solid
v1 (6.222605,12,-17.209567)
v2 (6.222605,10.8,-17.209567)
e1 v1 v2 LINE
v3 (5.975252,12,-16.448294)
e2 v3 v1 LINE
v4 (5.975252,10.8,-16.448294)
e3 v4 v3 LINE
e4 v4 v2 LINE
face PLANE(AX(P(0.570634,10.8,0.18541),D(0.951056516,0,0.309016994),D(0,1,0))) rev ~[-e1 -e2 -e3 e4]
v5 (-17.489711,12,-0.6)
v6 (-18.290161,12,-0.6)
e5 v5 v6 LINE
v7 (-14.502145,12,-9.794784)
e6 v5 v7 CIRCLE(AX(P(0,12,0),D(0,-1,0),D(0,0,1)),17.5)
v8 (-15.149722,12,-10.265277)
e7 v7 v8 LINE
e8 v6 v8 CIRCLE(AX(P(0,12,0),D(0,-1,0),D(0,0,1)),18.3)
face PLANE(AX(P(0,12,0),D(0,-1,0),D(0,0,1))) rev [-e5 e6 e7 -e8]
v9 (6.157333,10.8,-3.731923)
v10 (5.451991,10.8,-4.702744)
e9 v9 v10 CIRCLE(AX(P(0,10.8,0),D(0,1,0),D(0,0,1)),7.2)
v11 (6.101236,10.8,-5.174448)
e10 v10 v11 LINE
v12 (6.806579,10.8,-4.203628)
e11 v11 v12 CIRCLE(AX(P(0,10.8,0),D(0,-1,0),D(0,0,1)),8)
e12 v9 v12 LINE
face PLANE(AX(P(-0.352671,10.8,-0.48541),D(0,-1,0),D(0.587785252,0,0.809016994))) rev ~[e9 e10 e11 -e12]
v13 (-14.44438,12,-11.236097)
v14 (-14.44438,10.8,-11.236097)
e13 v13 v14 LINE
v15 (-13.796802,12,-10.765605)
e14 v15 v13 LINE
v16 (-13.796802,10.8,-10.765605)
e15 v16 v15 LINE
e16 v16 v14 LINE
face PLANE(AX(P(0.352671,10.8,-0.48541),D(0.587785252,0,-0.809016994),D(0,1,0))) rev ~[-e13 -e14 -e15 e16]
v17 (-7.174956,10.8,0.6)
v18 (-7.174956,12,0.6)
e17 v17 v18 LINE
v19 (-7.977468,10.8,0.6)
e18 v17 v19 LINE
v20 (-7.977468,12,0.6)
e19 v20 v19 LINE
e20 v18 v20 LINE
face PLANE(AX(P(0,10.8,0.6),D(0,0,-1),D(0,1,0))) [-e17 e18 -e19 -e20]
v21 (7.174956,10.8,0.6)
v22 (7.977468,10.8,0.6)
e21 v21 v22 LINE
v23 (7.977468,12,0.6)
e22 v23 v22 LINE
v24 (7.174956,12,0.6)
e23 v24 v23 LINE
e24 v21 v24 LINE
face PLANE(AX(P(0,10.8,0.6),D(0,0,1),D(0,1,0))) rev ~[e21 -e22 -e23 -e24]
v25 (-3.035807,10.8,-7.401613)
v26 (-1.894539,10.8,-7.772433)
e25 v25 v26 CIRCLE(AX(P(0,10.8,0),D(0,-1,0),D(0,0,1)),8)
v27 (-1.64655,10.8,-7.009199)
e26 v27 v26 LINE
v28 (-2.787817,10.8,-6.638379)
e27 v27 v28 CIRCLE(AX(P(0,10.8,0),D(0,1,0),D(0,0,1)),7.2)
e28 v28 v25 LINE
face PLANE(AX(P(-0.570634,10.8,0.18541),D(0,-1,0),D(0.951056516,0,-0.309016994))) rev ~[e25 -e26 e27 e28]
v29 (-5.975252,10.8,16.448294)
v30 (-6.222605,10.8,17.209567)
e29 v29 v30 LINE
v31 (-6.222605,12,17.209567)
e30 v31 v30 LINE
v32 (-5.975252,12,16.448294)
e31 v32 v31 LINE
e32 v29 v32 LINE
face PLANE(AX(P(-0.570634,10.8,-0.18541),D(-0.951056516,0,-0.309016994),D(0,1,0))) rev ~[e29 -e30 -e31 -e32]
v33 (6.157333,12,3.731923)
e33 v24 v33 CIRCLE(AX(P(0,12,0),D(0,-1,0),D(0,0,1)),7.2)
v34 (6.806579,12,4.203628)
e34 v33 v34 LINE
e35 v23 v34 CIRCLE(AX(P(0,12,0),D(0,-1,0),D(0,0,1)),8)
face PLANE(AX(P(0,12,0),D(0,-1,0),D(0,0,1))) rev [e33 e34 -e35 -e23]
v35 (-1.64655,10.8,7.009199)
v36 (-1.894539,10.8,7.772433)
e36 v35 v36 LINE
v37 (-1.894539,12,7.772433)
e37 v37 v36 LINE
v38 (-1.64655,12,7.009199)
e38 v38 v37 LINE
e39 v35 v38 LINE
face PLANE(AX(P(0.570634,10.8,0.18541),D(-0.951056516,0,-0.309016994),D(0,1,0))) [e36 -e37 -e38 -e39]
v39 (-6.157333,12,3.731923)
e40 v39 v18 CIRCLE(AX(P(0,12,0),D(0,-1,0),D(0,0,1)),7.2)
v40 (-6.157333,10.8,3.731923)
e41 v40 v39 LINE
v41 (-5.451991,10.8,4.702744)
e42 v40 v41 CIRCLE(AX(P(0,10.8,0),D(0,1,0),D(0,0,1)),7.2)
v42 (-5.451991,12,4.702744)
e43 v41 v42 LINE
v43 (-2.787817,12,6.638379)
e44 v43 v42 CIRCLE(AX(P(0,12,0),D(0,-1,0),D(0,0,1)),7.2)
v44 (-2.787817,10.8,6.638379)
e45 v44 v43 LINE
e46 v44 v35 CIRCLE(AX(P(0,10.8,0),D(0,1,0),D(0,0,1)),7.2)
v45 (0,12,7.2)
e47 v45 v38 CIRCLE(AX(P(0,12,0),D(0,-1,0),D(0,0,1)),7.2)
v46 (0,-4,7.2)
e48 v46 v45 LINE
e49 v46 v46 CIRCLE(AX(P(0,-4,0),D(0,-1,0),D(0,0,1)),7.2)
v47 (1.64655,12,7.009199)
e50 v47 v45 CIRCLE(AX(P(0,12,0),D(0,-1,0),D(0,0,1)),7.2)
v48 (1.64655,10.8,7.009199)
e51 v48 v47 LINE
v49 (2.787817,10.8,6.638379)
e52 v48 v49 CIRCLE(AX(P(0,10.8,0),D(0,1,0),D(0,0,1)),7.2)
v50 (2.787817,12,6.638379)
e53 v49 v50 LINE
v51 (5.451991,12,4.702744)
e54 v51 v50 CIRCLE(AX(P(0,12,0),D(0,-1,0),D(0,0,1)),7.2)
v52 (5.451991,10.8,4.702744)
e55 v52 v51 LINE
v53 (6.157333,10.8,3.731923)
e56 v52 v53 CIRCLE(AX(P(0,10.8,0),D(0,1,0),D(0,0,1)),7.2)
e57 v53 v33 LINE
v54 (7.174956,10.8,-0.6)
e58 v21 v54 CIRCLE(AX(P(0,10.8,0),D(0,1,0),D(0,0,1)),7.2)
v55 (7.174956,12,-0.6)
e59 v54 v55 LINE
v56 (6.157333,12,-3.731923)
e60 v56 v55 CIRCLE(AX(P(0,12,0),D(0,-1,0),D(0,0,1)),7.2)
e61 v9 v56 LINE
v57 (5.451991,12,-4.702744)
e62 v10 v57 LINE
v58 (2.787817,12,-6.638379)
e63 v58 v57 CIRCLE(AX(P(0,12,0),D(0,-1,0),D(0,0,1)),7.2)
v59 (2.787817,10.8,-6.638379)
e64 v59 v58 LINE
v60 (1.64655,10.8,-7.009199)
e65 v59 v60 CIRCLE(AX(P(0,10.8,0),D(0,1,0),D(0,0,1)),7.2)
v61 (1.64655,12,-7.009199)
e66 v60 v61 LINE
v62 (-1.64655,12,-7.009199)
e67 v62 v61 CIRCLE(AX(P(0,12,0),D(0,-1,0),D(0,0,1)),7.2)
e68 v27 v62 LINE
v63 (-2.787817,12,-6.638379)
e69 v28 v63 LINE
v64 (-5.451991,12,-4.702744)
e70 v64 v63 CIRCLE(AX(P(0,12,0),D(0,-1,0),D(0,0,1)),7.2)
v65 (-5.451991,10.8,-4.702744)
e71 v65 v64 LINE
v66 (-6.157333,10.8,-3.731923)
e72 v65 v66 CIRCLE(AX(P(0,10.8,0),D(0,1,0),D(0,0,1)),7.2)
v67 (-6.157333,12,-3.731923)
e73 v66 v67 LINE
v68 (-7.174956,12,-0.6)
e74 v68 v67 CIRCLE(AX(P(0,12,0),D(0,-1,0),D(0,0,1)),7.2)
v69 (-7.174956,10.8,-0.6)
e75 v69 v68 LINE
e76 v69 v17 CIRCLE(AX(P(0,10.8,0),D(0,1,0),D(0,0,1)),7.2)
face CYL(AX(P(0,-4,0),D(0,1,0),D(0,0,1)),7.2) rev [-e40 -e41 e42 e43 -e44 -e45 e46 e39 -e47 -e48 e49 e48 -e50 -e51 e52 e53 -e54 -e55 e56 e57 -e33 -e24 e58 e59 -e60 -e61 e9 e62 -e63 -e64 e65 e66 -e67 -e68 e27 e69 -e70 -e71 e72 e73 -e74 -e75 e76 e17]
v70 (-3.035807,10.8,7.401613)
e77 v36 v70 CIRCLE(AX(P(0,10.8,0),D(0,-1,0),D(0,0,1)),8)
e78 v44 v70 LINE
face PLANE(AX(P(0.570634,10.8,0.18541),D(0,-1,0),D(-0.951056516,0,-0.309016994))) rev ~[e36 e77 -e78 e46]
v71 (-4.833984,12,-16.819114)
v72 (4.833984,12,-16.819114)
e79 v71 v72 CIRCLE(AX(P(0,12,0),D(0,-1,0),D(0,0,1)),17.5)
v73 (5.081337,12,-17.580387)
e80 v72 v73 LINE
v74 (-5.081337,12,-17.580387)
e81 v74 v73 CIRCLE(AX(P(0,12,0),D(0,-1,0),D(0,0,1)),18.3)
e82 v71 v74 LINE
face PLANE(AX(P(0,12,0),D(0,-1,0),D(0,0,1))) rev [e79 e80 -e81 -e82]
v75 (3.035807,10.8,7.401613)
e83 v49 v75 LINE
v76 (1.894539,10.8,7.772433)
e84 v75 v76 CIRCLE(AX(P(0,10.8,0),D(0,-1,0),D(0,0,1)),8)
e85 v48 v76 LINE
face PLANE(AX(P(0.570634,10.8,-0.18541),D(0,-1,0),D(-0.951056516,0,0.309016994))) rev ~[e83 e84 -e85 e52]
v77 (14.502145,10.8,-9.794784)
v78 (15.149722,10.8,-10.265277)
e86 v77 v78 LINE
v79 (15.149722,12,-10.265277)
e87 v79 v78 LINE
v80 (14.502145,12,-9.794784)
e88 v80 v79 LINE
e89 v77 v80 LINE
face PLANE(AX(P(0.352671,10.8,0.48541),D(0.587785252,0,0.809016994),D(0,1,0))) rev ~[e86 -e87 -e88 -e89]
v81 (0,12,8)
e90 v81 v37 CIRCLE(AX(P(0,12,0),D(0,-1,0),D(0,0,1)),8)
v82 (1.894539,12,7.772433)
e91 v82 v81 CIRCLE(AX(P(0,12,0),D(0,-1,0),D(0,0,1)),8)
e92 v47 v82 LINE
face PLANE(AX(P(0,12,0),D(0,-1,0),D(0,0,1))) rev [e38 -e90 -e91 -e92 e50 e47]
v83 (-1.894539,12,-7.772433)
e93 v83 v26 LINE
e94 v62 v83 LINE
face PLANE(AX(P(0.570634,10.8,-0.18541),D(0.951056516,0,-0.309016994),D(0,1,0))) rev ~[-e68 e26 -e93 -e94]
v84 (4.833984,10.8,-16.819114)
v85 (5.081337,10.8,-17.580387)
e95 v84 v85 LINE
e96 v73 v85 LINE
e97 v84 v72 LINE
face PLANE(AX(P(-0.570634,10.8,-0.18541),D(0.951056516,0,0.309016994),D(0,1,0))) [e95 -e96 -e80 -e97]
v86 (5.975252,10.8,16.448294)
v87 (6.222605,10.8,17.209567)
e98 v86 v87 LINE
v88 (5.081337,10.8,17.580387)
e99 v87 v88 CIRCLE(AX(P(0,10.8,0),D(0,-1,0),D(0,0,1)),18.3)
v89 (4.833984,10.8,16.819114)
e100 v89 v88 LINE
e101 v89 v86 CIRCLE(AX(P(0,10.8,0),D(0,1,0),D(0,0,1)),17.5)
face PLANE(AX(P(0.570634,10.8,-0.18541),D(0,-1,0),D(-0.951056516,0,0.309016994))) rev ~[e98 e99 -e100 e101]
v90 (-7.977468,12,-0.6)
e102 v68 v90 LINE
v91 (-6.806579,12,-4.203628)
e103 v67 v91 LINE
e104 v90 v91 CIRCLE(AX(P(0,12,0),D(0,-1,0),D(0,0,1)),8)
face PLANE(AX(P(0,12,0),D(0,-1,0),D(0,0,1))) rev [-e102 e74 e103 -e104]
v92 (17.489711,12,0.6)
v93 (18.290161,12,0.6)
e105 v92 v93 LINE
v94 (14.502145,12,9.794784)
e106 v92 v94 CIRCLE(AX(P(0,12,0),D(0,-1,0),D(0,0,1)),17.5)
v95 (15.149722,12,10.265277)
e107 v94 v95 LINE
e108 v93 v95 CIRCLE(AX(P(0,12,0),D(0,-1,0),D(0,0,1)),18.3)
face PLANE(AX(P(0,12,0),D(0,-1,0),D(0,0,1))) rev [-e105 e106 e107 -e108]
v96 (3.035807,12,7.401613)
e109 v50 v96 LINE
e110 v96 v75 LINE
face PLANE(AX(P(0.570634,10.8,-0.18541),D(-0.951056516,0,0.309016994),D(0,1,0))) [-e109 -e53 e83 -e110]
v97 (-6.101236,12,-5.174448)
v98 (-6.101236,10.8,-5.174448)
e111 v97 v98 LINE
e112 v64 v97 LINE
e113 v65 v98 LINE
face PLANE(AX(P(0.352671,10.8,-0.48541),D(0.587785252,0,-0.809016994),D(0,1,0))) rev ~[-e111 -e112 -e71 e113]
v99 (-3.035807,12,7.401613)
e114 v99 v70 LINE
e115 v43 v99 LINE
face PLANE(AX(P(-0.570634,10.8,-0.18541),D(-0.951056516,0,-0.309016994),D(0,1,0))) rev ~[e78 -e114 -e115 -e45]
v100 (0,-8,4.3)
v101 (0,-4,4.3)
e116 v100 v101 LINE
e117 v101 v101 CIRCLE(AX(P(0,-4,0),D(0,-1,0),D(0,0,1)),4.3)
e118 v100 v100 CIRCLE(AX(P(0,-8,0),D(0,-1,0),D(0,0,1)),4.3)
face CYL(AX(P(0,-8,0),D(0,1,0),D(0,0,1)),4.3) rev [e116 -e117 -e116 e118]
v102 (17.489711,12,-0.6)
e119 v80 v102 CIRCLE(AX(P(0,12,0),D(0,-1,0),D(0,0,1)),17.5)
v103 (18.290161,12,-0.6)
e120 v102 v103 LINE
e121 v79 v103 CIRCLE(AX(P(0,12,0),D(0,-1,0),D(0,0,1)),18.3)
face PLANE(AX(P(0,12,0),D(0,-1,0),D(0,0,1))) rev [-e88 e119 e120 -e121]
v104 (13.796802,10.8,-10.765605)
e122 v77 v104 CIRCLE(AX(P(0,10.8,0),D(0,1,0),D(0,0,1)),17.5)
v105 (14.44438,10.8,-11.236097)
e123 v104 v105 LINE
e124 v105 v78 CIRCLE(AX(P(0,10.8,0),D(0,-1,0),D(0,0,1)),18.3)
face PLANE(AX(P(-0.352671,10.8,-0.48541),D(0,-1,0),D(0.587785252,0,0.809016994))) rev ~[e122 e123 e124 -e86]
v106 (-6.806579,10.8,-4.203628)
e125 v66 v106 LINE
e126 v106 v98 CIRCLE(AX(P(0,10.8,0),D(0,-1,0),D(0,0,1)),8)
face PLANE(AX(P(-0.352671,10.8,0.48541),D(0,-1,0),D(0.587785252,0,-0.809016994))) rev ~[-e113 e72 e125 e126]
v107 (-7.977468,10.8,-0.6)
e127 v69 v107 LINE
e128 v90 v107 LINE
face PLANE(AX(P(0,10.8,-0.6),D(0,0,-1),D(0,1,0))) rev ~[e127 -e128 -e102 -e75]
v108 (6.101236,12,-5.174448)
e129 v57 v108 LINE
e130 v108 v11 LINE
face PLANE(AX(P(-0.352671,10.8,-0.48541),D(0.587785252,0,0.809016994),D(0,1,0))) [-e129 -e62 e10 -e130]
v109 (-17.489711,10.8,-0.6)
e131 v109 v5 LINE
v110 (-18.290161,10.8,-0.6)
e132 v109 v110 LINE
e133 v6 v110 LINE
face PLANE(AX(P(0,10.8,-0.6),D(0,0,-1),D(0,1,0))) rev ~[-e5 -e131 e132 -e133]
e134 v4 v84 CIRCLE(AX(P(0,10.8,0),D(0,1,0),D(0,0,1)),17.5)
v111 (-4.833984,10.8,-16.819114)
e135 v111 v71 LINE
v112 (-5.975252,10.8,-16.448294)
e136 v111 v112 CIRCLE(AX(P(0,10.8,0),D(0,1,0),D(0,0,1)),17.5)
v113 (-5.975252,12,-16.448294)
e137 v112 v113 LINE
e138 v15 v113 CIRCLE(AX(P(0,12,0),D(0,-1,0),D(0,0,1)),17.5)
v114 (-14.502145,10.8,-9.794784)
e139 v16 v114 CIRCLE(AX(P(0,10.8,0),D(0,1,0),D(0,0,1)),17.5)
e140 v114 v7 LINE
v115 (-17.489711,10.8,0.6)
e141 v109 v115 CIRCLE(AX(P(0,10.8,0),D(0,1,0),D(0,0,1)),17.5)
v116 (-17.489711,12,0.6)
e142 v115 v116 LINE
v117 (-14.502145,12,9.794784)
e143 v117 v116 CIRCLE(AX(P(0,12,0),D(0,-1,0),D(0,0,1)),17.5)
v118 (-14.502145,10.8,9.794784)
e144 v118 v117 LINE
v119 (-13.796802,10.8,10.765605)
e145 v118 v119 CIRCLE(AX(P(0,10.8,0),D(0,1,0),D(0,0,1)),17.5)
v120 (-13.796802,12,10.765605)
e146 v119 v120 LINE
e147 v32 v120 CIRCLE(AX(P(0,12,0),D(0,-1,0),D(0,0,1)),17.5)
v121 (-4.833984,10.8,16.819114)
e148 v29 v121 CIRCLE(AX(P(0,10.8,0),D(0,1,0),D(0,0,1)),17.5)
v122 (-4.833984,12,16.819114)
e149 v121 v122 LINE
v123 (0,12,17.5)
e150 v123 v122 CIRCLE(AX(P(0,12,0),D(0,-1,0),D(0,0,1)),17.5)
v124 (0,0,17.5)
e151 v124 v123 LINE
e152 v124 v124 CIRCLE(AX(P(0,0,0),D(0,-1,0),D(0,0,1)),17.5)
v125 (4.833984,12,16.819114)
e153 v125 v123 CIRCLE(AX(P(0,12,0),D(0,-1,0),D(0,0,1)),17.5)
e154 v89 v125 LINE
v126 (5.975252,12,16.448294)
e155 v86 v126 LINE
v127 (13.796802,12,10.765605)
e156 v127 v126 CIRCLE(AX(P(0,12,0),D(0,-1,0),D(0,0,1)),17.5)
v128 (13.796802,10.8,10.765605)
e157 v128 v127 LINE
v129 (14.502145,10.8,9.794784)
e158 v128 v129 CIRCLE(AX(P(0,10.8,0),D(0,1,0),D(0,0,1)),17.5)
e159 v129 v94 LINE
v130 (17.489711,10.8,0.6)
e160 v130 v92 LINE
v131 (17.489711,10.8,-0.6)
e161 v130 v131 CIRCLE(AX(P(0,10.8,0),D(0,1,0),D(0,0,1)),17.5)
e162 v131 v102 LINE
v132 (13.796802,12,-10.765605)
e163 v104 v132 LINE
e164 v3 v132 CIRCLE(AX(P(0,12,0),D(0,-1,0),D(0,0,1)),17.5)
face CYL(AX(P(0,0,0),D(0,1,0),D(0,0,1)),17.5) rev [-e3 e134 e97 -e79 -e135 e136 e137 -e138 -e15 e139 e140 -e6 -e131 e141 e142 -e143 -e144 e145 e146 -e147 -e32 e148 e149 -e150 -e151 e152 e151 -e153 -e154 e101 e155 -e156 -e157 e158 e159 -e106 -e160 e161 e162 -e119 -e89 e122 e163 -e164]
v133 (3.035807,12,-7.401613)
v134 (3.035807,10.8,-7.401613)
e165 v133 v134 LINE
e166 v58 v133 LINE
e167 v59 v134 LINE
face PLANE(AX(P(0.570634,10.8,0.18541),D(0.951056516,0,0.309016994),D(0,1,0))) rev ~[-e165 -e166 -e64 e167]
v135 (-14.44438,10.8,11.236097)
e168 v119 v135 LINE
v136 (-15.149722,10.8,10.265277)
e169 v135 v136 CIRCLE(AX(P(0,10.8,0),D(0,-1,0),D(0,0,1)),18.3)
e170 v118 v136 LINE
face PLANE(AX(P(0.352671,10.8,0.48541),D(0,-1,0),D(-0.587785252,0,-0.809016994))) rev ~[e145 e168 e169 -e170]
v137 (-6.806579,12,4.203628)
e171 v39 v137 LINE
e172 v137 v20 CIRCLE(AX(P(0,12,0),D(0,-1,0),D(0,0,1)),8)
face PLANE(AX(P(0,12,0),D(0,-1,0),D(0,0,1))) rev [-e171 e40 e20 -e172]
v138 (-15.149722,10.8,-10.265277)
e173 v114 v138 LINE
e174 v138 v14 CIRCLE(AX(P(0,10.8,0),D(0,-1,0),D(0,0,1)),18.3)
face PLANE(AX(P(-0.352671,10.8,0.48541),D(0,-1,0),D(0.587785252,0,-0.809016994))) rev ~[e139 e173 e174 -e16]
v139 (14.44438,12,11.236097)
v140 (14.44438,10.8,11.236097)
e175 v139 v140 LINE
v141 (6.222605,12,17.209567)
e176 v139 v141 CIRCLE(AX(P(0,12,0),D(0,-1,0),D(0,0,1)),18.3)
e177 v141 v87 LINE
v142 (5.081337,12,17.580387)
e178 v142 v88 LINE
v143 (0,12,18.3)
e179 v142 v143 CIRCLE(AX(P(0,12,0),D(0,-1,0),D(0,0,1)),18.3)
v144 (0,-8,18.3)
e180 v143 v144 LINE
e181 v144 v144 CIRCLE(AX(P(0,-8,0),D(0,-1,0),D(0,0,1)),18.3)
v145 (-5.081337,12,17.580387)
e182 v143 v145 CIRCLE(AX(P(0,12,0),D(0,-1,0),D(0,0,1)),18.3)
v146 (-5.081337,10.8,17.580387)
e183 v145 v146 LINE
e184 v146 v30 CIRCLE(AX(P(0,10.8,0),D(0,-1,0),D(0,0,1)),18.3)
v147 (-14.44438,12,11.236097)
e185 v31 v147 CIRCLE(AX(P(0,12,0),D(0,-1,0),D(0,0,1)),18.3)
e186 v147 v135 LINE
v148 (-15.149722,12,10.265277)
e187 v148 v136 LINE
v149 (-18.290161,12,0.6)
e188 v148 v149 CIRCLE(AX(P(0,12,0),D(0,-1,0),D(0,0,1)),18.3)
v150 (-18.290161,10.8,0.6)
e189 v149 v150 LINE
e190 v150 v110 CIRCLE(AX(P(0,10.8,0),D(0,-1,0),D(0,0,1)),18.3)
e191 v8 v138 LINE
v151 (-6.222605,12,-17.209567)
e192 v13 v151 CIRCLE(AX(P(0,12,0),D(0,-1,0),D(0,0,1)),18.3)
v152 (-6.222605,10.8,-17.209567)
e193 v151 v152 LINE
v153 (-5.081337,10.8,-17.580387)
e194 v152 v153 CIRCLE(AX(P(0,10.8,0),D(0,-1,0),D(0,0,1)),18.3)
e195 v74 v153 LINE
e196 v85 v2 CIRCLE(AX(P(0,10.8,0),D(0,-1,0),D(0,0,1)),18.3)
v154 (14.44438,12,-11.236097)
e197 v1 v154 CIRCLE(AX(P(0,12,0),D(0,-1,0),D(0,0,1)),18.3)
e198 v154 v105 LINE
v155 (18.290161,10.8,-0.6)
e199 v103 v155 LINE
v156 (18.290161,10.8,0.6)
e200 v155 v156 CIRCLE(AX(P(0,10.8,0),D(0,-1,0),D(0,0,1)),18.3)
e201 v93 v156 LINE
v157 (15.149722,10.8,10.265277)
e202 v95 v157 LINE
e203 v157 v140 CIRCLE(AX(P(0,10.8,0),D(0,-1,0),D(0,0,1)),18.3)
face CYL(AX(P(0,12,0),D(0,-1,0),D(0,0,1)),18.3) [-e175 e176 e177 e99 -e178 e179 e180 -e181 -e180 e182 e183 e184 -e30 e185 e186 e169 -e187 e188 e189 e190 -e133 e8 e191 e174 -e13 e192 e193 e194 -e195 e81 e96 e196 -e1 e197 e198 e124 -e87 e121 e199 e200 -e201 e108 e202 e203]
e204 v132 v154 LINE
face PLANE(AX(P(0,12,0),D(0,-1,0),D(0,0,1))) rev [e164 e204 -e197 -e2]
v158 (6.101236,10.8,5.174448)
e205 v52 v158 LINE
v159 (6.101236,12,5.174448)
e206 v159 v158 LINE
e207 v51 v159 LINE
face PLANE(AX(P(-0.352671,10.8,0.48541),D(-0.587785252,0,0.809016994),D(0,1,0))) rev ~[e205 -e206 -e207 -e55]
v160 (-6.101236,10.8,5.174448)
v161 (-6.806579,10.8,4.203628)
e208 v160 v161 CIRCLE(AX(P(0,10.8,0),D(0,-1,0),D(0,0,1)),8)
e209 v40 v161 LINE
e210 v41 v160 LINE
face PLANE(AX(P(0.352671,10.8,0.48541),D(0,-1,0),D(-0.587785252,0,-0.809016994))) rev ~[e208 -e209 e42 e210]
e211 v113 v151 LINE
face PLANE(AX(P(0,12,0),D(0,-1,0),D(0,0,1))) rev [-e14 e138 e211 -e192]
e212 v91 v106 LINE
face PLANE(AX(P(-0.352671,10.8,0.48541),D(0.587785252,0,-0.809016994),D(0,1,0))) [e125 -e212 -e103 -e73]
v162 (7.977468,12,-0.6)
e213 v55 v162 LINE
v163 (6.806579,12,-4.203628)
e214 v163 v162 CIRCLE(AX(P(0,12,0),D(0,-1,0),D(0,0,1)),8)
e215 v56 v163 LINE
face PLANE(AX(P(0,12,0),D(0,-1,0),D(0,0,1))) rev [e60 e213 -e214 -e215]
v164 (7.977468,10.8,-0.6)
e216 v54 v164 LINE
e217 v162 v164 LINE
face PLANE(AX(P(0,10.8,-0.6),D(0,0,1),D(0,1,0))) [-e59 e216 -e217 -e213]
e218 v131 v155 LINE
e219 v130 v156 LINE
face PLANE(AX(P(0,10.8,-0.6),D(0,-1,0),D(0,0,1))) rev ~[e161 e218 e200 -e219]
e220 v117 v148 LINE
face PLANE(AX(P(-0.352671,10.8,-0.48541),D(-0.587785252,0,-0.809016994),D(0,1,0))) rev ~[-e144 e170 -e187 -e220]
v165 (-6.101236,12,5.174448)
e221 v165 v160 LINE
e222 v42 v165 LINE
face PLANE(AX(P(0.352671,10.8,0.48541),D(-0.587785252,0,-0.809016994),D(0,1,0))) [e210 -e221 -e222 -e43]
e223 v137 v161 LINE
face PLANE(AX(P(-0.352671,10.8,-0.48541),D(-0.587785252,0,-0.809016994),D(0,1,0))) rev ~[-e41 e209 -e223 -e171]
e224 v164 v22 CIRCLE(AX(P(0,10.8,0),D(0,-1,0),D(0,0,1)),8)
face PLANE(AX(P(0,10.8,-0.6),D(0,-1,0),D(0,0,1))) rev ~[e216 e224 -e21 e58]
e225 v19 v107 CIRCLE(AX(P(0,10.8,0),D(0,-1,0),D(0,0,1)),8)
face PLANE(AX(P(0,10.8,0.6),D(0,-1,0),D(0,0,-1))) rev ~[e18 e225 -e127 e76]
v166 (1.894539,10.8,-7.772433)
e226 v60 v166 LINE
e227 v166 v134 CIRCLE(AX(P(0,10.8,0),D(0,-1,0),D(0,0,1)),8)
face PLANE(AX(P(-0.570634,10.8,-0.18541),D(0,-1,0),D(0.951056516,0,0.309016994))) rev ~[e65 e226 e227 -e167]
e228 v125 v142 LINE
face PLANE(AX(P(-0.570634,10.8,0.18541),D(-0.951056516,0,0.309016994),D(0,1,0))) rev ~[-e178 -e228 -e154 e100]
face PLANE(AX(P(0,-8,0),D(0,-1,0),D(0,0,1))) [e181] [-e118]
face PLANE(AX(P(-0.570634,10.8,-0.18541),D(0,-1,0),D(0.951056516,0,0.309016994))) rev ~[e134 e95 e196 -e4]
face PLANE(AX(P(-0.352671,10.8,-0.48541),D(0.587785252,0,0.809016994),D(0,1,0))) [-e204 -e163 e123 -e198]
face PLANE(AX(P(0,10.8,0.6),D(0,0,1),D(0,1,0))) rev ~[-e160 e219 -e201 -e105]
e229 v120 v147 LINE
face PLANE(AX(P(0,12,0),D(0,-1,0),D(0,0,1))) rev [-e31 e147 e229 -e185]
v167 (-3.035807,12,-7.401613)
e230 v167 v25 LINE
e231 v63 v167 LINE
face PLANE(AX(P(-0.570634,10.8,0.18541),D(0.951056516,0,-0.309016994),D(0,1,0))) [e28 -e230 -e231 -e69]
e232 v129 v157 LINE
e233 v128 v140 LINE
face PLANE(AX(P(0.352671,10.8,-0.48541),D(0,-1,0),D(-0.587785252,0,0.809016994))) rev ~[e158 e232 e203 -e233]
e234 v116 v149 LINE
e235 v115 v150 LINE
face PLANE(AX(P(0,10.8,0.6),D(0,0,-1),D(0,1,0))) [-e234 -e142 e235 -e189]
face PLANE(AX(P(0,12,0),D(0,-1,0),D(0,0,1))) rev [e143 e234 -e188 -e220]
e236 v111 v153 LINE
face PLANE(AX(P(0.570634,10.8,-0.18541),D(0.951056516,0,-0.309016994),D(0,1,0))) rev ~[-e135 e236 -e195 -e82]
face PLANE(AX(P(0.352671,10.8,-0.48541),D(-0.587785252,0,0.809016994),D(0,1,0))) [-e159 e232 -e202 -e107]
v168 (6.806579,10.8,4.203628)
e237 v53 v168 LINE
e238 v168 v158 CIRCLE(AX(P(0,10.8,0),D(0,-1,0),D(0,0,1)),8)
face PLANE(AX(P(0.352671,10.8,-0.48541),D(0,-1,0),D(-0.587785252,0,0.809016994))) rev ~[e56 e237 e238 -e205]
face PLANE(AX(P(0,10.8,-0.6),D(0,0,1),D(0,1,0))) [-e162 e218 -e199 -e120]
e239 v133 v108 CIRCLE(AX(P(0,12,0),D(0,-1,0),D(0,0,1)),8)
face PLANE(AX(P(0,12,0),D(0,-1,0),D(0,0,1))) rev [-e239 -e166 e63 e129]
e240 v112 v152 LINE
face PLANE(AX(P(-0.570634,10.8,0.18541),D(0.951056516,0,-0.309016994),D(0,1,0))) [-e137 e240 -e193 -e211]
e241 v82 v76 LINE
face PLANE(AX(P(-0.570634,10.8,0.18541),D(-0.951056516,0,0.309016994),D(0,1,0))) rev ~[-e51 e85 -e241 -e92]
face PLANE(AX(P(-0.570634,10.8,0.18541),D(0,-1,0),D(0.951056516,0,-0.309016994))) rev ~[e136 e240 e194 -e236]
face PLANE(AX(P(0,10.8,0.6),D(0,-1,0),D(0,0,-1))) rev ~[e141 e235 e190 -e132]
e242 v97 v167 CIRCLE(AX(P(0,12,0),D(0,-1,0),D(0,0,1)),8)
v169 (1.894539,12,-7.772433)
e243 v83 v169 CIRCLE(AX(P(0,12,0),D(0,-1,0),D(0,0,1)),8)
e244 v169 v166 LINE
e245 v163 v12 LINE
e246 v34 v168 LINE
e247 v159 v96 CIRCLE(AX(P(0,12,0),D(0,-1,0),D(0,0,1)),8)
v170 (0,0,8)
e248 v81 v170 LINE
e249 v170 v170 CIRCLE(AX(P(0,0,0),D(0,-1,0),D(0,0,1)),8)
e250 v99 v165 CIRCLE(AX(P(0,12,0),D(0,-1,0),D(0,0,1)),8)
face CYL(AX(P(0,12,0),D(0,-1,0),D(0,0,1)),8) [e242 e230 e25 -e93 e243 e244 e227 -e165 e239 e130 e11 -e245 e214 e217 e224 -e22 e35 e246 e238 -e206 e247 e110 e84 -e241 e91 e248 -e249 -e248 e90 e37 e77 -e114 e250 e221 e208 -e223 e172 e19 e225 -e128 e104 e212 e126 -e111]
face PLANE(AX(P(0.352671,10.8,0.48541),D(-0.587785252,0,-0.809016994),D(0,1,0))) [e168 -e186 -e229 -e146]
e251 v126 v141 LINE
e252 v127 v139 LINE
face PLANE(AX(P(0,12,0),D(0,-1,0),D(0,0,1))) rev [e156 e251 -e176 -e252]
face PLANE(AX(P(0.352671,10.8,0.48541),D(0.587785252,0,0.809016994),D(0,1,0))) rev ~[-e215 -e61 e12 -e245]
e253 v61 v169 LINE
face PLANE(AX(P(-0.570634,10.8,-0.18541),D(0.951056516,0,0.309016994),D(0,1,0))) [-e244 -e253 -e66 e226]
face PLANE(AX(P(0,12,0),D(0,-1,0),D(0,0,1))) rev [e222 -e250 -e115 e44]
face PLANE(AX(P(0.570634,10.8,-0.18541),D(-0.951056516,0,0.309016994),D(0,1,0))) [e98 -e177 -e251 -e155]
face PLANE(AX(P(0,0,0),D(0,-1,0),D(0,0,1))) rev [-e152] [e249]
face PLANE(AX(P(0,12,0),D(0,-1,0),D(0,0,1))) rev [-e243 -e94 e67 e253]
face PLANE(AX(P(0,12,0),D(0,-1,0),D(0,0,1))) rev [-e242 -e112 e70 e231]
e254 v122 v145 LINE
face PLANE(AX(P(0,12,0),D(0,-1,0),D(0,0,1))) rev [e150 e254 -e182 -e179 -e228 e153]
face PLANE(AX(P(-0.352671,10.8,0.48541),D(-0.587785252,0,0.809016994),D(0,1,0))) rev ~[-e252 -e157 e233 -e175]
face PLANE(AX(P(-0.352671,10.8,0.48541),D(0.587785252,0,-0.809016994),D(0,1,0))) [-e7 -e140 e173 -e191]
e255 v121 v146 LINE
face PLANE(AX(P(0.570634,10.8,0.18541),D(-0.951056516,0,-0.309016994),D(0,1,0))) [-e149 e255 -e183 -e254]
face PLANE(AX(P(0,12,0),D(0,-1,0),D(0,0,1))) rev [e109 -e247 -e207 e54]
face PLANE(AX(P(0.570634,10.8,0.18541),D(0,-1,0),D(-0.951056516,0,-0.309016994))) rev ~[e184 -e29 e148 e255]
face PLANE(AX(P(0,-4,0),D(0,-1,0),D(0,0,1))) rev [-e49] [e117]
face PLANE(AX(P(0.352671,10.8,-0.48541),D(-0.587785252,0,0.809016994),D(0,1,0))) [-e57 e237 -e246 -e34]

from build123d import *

# Parameters (mm, degrees)
SKETCH4_W          = 1.2
SKETCH4_H          = 1.2
CUT_EXTRUDE2_DEPTH = 29.526829477
CIRPATTERN1_COUNT  = 10


with BuildPart() as part:
    # Sketch1 → Revolve1 (revolve)
    with BuildSketch(Plane.XY, mode=Mode.PRIVATE) as revolve1_sk:
        Polygon((-7.2, -4), (-7.2, 12), (-8, 12), (-8, 0), (-17.5, 0), (-17.5, 12), (-18.3, 12), (-18.3, -8), (-4.3, -8), (-4.3, -4), align=None)
    revolve(revolve1_sk.sketch.rotate(Axis((0, 0, 0), (0, -1, 0)), 270), axis=Axis((0, 0, 0), (0, -1, 0)))

    # Sketch4 → Cut-Extrude2 (cut, through all)
    with BuildSketch(Plane(origin=(0, 0, 0), x_dir=(0, 0, -1), z_dir=(1, 0, 0))):
        with Locations((0, 11.4)):
            Rectangle(SKETCH4_W, SKETCH4_H)
    cut_extrude2 = extrude(amount=-CUT_EXTRUDE2_DEPTH, mode=Mode.SUBTRACT)

    # CirPattern1: Cut-Extrude2 ×10 about axis
    cirpattern1_axis = Axis((0, 0, 0), (0, 1, 0))
    for i in range(1, CIRPATTERN1_COUNT):
        add(cut_extrude2.rotate(cirpattern1_axis, i * 360 / CIRPATTERN1_COUNT), mode=Mode.SUBTRACT)


solid = part.part
